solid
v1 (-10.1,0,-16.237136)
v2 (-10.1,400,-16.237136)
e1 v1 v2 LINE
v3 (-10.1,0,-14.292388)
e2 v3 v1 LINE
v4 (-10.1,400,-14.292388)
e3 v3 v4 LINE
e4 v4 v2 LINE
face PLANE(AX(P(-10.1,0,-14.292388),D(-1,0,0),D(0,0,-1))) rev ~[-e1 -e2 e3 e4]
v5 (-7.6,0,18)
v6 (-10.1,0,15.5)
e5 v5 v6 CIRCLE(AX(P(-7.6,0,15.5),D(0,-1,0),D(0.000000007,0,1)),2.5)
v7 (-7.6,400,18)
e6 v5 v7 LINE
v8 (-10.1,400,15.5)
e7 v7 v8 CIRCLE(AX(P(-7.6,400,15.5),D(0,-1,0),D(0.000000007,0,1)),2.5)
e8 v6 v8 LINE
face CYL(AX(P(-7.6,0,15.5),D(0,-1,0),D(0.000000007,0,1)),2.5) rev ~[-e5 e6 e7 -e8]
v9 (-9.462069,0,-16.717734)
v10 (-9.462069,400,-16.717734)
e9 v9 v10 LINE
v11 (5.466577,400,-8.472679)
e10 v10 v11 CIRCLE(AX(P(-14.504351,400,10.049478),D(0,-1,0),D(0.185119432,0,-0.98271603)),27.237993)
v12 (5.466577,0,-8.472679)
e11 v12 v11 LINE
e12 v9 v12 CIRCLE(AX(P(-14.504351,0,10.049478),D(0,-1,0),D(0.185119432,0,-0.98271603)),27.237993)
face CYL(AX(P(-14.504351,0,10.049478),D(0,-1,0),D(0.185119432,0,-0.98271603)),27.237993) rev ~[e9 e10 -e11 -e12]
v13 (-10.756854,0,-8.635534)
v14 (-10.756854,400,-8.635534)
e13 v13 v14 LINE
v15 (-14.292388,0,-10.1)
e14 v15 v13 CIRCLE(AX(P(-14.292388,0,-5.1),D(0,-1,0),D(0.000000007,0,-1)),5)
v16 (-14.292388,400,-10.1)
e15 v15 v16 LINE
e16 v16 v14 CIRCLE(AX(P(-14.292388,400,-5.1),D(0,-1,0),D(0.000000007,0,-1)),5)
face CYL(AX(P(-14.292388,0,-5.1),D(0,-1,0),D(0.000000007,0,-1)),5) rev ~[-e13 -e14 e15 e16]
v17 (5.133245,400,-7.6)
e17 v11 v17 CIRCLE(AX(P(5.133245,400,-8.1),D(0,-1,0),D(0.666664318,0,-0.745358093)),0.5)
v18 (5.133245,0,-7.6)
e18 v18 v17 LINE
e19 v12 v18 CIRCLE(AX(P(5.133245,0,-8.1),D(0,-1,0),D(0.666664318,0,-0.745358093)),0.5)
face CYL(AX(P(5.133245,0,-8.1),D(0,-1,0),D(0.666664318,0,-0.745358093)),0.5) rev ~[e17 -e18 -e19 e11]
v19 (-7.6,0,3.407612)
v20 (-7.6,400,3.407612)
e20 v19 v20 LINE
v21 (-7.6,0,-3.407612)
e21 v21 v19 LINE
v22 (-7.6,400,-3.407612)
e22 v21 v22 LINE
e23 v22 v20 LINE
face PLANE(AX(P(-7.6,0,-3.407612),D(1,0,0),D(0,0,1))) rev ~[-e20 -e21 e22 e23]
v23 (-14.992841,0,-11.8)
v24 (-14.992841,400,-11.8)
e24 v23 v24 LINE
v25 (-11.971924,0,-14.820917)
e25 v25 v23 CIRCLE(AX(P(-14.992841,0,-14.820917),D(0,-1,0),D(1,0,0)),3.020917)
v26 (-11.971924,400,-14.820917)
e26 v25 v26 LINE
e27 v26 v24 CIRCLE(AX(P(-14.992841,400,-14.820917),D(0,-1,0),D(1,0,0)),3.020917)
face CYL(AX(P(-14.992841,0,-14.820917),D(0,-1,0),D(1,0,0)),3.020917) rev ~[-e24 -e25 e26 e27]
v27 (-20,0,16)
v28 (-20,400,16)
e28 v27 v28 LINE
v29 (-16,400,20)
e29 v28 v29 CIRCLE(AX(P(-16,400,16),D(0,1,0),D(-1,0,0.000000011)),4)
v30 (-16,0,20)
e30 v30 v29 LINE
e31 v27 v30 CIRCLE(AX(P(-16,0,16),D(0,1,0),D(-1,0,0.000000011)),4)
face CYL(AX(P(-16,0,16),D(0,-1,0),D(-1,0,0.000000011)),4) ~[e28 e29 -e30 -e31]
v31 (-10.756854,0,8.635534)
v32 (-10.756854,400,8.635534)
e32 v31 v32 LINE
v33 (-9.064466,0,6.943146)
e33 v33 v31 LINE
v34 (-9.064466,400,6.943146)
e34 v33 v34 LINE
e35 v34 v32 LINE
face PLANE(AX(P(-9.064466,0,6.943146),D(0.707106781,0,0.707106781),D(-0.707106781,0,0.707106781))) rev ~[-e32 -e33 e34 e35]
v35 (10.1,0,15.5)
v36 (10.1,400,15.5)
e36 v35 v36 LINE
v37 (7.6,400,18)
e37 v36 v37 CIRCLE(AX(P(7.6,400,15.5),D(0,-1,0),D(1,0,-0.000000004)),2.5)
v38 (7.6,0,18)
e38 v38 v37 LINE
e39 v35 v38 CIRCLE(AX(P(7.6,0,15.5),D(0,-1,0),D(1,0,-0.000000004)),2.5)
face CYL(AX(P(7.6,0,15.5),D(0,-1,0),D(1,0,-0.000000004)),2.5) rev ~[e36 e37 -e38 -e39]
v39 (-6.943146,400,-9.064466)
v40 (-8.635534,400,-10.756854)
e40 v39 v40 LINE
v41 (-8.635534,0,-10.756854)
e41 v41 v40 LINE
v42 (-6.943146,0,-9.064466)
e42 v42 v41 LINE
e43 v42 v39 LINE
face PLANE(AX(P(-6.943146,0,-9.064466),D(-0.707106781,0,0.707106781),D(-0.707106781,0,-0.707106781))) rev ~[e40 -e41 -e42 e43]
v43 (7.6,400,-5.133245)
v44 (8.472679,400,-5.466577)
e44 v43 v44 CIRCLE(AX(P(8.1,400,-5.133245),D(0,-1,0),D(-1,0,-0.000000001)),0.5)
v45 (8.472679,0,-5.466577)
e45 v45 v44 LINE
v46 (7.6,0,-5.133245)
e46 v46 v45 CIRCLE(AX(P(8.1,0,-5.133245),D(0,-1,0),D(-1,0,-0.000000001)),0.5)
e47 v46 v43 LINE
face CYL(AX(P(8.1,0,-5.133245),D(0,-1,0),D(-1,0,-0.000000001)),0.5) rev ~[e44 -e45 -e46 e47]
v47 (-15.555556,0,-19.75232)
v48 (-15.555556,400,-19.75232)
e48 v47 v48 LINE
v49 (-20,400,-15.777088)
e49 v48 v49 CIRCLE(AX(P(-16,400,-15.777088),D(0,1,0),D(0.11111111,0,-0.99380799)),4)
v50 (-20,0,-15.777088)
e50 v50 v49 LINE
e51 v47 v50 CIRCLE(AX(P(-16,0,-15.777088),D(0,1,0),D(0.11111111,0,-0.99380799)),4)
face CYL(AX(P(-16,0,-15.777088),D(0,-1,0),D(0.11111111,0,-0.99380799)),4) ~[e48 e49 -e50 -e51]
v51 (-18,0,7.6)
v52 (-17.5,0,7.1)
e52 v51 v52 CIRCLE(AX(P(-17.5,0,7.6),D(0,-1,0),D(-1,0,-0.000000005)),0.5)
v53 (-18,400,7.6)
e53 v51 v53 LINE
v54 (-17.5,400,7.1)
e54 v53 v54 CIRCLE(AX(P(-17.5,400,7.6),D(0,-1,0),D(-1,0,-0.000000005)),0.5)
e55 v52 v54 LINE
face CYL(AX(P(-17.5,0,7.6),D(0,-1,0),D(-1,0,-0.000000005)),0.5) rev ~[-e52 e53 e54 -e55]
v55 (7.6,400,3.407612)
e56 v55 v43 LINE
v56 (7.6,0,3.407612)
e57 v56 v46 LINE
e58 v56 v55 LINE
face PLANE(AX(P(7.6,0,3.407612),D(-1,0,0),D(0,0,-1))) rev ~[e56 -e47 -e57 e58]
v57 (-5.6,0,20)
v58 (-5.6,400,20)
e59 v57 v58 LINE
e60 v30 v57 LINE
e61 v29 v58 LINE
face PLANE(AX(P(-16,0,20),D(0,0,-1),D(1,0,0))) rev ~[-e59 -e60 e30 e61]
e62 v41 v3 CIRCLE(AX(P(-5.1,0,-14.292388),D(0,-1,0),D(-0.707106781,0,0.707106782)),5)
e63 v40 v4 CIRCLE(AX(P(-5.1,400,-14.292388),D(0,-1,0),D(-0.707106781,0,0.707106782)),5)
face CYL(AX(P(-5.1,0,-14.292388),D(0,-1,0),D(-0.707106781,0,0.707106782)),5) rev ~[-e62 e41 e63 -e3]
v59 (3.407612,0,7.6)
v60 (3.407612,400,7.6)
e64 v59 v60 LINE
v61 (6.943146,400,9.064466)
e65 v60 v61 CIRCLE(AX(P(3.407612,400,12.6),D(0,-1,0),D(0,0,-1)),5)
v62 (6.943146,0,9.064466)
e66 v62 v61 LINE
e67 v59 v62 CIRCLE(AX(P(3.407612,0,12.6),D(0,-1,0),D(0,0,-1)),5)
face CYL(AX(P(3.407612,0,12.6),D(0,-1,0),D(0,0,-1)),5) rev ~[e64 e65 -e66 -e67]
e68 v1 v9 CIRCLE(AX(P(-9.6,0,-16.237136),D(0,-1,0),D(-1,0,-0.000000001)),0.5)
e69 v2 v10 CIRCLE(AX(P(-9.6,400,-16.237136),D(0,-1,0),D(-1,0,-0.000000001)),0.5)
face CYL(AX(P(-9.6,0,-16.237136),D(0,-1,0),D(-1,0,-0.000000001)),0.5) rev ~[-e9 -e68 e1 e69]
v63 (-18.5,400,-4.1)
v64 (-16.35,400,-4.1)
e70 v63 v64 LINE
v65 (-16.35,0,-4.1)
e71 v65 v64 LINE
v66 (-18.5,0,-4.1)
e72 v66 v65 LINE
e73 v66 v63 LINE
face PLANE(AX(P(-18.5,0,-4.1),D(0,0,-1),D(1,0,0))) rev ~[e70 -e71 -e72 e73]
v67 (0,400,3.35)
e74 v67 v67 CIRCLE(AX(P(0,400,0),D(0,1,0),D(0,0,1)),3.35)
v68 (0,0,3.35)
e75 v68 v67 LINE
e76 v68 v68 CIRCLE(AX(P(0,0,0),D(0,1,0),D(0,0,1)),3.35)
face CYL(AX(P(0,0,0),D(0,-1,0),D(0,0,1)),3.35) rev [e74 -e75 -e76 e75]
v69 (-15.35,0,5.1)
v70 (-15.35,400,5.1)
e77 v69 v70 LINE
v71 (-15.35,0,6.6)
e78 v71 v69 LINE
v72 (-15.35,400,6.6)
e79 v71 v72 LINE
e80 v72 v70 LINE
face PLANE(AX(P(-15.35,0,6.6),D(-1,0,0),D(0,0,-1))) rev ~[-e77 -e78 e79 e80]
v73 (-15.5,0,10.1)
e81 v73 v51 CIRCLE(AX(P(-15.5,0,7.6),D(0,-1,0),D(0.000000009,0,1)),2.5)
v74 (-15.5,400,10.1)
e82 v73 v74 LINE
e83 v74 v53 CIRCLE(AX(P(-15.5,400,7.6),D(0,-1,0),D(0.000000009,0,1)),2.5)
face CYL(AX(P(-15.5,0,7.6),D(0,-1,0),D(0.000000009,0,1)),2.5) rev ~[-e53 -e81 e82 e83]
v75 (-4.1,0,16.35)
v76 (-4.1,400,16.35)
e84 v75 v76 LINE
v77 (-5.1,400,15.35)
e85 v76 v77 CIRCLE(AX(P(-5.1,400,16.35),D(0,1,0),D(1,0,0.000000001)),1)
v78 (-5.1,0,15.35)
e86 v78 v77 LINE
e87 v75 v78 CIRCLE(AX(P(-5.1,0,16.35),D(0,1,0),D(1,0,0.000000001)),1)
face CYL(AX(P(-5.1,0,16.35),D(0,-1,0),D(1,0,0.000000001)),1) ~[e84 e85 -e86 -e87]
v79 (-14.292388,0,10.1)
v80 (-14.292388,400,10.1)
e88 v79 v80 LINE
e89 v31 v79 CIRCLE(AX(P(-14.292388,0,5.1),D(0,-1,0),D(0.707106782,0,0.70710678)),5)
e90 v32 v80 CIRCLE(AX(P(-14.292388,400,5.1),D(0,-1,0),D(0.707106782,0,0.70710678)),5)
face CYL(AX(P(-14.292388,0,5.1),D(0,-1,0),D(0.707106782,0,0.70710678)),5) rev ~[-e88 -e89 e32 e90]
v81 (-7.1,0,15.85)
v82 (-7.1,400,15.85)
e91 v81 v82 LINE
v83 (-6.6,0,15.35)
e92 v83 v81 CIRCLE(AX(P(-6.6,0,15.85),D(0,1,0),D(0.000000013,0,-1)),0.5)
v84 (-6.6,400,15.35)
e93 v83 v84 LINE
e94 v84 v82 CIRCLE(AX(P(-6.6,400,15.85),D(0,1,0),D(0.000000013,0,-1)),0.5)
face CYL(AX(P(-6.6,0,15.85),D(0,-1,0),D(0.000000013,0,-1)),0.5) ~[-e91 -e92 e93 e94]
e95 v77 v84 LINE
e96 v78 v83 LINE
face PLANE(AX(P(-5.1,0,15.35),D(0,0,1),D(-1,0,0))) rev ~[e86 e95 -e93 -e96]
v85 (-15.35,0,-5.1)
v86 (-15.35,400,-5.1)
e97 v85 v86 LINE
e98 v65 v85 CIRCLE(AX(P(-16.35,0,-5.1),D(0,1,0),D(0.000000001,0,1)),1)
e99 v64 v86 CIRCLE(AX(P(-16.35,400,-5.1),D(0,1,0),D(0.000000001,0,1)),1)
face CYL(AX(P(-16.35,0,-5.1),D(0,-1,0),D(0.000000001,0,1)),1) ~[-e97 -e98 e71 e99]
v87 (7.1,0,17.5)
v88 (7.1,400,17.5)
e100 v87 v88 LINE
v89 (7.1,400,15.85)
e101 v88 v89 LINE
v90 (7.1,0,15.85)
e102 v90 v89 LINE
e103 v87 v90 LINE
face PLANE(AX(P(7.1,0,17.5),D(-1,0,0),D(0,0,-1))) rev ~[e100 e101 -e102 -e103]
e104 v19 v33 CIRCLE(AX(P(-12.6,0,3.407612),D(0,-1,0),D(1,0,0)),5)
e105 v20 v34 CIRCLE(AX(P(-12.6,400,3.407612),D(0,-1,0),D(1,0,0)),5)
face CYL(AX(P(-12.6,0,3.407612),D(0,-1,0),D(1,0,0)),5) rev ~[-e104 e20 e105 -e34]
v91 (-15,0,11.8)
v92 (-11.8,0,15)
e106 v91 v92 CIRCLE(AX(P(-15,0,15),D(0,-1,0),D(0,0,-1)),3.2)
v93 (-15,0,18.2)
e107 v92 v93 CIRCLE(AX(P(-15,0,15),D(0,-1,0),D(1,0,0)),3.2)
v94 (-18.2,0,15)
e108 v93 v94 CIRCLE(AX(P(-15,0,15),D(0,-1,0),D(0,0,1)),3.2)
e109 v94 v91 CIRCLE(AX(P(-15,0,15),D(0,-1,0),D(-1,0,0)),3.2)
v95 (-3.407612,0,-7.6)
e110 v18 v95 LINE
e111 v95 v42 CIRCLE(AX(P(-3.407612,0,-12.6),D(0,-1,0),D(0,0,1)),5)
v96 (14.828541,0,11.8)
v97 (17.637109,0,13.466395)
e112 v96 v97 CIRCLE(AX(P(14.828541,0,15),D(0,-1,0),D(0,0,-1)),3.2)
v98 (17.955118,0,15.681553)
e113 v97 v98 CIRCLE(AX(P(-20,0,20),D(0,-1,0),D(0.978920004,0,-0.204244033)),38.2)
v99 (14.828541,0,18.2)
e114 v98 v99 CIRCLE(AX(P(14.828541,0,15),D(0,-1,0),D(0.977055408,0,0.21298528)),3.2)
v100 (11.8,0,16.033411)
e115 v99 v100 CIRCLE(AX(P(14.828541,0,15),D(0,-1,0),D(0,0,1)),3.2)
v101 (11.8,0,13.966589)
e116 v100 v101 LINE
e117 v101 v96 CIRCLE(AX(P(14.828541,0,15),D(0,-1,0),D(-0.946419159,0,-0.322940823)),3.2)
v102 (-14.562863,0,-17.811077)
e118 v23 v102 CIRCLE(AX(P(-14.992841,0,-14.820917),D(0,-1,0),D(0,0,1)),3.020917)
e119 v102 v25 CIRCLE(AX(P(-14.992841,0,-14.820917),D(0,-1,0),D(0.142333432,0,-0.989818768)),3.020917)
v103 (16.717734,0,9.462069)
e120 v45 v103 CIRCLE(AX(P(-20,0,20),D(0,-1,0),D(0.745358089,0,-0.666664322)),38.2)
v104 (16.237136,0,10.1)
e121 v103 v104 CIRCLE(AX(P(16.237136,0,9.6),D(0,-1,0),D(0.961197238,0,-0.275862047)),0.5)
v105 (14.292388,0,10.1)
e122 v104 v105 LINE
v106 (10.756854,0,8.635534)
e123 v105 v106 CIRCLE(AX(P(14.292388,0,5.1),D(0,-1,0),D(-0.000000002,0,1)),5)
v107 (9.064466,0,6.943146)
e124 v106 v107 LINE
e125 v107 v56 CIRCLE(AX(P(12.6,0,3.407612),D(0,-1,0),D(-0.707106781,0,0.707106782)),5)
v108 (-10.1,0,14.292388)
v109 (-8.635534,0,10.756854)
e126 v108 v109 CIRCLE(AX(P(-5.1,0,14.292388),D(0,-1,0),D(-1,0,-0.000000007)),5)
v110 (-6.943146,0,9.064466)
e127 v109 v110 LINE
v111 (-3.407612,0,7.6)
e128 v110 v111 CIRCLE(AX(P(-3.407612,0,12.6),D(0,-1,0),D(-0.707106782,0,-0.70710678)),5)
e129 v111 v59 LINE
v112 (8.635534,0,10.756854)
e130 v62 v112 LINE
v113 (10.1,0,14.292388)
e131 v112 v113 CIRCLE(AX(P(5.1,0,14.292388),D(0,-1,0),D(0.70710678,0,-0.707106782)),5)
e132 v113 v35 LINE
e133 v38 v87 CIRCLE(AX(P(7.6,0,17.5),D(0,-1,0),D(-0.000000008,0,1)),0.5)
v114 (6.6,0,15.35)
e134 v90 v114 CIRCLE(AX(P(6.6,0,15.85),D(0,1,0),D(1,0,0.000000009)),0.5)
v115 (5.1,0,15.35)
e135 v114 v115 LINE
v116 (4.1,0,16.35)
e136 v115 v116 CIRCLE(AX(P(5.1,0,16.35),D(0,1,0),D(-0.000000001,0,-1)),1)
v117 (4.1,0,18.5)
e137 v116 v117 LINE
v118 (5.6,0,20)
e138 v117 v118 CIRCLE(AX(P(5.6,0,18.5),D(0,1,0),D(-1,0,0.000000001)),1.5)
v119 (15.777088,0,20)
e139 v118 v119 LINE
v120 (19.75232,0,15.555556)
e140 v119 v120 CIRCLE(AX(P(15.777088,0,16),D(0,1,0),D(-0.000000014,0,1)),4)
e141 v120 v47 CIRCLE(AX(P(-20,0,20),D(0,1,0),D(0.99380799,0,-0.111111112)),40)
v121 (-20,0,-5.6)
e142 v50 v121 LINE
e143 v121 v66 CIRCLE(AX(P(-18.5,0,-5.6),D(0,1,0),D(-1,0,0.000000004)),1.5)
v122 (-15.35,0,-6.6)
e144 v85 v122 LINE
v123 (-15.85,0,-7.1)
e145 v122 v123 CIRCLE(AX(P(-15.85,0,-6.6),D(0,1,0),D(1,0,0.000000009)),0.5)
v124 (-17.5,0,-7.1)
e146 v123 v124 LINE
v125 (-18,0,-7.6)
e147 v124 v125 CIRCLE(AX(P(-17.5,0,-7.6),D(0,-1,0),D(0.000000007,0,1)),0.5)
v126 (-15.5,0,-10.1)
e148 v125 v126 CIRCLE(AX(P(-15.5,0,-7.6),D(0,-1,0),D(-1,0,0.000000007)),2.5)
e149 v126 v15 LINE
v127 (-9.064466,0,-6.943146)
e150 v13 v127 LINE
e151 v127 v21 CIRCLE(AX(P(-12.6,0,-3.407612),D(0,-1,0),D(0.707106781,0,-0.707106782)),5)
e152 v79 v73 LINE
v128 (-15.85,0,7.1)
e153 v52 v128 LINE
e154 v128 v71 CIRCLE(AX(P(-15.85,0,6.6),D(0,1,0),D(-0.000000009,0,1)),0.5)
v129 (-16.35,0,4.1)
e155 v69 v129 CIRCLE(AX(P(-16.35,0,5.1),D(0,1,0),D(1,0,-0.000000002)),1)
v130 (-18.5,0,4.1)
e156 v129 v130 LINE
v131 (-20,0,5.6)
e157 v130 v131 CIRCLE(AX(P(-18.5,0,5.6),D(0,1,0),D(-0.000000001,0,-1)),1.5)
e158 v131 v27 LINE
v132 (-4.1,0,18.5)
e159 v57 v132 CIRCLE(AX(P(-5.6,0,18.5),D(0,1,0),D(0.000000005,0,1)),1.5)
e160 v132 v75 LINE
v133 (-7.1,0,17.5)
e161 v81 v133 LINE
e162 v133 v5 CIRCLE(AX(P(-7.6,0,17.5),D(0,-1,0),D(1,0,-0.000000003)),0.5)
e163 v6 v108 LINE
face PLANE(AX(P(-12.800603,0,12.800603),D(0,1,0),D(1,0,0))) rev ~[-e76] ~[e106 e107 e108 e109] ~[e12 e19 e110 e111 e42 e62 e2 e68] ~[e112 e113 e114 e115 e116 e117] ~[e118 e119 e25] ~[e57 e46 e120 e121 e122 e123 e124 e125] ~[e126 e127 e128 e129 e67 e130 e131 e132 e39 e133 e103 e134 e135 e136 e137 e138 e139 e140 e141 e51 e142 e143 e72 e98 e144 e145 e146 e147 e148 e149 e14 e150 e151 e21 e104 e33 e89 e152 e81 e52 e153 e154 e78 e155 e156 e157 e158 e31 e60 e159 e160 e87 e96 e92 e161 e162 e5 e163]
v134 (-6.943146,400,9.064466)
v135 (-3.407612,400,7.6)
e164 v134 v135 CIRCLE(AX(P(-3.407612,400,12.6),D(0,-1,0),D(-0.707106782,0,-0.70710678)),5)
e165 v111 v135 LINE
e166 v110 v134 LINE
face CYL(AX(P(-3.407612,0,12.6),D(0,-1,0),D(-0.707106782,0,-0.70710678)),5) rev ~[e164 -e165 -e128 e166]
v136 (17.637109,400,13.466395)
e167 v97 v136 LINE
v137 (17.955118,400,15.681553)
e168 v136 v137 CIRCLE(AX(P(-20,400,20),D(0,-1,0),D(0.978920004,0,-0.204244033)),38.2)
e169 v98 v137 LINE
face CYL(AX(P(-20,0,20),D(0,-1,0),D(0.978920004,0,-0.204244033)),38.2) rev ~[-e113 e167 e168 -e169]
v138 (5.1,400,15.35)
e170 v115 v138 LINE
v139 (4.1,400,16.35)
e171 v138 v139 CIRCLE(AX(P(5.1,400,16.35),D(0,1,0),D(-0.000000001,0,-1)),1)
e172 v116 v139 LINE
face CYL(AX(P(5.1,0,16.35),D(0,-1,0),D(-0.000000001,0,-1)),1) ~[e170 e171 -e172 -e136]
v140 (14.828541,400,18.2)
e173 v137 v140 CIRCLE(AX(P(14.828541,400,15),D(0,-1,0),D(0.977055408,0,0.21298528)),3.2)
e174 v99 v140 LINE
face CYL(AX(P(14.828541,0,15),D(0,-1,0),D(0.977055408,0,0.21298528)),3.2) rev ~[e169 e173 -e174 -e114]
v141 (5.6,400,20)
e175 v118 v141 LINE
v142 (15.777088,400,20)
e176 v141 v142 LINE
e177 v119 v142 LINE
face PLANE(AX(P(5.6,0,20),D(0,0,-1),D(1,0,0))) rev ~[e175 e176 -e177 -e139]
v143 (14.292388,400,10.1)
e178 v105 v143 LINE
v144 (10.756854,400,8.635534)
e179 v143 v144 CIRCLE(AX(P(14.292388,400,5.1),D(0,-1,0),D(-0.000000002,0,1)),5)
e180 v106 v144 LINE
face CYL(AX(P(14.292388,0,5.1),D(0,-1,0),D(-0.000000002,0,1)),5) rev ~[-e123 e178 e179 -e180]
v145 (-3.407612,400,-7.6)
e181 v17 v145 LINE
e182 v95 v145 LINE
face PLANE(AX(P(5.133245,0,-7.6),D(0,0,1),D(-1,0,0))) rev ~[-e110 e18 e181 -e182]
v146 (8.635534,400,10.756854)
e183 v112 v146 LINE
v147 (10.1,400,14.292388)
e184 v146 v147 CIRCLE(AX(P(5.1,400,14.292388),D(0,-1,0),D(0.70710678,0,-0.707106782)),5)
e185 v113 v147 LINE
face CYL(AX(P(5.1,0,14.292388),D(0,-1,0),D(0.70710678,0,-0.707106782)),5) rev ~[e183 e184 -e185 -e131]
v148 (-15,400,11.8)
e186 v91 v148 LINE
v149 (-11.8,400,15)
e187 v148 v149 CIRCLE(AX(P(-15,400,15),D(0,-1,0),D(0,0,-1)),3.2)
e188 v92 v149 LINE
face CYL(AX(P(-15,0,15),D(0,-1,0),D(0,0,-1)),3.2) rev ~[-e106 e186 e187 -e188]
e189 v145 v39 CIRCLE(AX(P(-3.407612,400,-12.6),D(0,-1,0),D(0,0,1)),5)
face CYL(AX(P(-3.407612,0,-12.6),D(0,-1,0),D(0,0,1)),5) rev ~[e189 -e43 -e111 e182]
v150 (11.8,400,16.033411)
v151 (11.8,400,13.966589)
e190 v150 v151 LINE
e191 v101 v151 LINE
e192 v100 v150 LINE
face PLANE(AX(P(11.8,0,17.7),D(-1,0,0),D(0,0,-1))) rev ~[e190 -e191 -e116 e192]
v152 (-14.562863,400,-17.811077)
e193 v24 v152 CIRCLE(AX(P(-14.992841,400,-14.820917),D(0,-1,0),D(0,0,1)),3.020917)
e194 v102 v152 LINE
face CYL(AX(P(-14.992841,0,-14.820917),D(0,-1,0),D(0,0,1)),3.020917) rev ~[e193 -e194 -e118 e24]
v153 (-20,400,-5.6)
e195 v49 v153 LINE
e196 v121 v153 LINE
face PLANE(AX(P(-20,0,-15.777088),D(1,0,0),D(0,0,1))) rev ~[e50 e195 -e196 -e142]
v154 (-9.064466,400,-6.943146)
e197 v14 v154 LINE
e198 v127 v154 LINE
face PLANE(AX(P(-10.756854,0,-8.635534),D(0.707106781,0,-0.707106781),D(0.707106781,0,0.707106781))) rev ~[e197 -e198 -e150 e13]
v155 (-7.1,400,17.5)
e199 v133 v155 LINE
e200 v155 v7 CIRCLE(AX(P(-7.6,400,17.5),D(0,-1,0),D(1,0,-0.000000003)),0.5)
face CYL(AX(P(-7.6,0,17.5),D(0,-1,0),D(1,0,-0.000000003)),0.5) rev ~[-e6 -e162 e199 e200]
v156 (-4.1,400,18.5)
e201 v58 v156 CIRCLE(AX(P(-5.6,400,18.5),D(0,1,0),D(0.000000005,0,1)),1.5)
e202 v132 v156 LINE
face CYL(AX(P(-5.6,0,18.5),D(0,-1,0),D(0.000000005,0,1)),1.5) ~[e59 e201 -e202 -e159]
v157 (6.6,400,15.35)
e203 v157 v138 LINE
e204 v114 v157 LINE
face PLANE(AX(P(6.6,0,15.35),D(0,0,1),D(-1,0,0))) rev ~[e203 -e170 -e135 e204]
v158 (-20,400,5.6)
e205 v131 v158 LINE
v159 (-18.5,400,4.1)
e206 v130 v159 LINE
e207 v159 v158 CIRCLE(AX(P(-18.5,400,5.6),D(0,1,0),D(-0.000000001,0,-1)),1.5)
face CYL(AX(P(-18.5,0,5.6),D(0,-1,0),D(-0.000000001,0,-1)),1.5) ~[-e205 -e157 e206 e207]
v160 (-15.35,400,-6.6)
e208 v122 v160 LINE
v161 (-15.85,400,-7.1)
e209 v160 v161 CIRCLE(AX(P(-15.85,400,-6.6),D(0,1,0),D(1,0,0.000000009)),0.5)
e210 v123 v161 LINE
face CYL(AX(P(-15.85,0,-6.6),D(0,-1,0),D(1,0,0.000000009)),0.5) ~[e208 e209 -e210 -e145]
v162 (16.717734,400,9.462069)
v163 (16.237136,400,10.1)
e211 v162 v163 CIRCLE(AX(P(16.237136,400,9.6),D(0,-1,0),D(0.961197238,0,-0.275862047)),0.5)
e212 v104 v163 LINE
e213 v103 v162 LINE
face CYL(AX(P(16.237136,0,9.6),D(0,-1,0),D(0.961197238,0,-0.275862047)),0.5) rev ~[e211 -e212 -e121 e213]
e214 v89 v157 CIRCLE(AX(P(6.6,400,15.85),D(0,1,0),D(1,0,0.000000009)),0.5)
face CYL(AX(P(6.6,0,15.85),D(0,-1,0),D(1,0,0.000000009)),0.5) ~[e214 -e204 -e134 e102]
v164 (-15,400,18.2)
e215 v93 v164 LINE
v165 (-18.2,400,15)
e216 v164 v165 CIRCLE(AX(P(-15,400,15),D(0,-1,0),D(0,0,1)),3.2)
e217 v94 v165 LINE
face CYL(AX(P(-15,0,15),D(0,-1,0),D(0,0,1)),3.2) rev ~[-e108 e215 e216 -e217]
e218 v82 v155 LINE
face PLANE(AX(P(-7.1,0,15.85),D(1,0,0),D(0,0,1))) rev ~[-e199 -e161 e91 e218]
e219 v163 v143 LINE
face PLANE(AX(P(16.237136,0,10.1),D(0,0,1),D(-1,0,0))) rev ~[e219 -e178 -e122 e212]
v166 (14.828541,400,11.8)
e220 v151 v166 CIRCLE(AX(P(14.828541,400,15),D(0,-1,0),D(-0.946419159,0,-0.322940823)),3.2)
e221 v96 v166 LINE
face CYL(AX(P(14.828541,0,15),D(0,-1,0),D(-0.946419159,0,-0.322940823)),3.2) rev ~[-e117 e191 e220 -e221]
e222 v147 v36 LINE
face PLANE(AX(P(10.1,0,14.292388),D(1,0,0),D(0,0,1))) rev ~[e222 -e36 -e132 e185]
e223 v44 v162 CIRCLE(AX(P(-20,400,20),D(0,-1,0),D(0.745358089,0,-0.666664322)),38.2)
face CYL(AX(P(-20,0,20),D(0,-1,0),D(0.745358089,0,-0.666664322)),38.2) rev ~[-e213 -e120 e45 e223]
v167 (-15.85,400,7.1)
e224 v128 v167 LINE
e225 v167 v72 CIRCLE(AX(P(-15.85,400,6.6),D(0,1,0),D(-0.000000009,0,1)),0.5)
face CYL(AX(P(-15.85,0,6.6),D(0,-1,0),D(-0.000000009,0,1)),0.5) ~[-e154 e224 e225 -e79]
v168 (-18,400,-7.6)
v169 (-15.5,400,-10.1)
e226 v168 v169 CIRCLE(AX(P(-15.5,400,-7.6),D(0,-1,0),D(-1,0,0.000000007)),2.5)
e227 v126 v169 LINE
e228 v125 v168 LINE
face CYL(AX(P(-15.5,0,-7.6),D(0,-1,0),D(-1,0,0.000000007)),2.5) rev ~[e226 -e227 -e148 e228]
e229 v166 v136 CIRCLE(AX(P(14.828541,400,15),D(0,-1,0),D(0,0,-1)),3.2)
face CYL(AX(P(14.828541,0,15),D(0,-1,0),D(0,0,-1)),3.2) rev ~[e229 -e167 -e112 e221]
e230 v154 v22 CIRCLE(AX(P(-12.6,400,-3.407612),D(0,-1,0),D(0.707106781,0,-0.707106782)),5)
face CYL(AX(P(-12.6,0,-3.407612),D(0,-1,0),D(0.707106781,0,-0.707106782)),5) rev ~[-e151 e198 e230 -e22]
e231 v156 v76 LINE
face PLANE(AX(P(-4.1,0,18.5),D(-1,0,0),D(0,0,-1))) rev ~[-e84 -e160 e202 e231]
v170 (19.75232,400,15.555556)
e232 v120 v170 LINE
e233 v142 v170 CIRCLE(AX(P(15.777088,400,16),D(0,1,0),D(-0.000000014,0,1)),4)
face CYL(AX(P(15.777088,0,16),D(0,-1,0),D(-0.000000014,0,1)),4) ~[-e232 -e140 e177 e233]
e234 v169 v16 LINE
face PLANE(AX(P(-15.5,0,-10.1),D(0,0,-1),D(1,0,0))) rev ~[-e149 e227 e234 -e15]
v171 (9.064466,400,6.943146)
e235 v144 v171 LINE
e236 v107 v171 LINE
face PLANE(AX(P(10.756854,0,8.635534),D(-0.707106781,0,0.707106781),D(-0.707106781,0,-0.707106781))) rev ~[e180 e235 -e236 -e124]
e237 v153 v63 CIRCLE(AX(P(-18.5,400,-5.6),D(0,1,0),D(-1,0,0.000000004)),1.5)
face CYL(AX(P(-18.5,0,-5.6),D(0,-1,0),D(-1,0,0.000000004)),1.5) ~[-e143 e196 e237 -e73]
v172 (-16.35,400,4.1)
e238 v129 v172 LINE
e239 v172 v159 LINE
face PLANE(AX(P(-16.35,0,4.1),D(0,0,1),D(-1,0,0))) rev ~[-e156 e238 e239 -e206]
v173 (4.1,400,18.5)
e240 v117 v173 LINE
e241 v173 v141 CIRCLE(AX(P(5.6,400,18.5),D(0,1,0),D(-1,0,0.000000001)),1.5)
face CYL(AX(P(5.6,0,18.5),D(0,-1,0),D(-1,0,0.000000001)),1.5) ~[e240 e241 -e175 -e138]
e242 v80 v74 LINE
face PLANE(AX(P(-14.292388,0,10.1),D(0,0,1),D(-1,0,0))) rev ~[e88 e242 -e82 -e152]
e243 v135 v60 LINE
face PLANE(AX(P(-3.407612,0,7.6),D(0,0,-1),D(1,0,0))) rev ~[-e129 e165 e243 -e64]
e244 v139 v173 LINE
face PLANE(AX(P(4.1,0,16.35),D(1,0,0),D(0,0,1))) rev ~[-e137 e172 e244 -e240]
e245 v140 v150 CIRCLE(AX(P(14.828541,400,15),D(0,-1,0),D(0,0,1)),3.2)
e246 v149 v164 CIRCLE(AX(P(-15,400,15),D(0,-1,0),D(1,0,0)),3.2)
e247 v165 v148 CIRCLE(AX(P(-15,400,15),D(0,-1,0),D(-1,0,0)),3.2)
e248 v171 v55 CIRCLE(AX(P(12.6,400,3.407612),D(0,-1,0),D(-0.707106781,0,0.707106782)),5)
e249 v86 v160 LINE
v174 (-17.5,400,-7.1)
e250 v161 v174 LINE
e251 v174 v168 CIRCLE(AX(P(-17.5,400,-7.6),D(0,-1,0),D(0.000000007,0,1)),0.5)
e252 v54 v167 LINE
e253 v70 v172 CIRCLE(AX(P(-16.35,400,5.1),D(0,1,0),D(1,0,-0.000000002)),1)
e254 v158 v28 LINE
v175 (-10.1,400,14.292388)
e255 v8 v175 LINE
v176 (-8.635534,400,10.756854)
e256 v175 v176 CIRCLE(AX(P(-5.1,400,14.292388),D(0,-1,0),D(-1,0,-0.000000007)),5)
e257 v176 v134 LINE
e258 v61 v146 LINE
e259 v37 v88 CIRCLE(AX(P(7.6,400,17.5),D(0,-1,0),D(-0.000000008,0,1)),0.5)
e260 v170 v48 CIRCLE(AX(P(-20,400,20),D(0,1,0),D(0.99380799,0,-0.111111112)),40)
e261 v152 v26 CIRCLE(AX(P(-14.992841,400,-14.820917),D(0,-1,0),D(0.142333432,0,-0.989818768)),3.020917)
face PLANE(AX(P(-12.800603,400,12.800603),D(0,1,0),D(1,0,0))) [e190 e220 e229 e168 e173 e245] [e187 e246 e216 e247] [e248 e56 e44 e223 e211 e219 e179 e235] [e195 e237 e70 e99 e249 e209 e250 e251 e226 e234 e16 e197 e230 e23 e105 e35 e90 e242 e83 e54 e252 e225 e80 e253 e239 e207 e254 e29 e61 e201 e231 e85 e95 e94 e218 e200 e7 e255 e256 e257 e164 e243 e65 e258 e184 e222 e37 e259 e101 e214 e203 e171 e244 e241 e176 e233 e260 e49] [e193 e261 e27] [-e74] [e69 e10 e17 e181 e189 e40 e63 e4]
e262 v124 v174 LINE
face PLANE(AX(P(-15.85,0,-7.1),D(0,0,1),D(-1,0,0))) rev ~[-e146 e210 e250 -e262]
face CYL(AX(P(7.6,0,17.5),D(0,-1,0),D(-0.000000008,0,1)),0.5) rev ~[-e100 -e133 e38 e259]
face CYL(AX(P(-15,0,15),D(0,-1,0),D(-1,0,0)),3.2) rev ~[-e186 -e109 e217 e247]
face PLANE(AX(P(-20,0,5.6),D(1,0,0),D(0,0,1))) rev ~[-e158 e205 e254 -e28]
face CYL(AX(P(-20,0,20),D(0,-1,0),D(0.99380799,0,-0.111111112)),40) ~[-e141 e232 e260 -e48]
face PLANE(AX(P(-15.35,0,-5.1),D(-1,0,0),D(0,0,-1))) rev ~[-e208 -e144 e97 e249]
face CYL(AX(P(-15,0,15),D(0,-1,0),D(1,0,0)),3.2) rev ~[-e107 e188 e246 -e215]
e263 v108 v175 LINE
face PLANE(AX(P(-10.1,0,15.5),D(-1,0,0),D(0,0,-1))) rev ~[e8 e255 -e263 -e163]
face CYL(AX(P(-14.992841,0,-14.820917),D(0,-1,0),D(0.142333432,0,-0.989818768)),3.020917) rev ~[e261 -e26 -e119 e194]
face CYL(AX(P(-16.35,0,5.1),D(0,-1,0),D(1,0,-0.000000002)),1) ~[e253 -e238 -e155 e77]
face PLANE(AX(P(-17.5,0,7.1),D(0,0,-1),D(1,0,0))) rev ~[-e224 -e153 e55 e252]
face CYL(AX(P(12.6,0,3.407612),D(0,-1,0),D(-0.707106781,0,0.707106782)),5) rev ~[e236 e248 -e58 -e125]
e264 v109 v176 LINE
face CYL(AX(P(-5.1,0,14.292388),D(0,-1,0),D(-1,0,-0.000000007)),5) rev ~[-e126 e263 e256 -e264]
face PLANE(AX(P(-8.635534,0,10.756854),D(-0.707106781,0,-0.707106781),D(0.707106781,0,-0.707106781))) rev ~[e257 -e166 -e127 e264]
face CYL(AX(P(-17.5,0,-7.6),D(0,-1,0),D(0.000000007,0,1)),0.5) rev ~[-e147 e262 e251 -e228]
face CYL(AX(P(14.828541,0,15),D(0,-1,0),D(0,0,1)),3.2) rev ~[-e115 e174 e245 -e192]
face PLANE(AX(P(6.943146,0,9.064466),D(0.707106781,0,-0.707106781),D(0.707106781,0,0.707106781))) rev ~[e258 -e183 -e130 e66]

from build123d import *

# Parameters (mm, degrees)
CROQUIS1_R              = 3.35
SALIENTE_EXTRUIR1_DEPTH = 400
SALIENTE_EXTRUIR2_START = -400
SALIENTE_EXTRUIR2_DEPTH = 400


with BuildPart() as part:
    # Croquis1 → Saliente-Extruir1 (new body)
    with BuildSketch(Plane(origin=(0, 0, 0), x_dir=(1, 0, 0), z_dir=(0, 1, 0))):
        with BuildLine():
            Line((4.099999986, -16.349999949), (4.099999986, -18.499999949))
            ThreePointArc((4.099999986, -18.499999949), (4.539339815, -19.560660121), (5.599999987, -19.999999949))
            Line((5.599999987, -19.999999949), (15.777087623, -19.999999949))
            ThreePointArc((15.777087623, -19.999999949), (18.758511608, -18.66666665), (19.752319619, -15.555555546))
            ThreePointArc((19.752319619, -15.555555546), (8.284271243, 8.284271252), (-15.555555578, 19.752319582))
            ThreePointArc((-15.555555578, 19.752319582), (-18.666666685, 18.758511591), (-20.000000016, 15.777087623))
            Line((-20.000000016, 15.777087623), (-20.000000016, 5.599999985))
            ThreePointArc((-20.000000016, 5.599999985), (-19.560660185, 4.539339815), (-18.500000013, 4.099999988))
            Line((-18.500000013, 4.099999988), (-16.350000012, 4.099999988))
            ThreePointArc((-16.350000012, 4.099999988), (-15.642893231, 4.392893207), (-15.350000012, 5.099999988))
            Line((-15.350000012, 5.099999988), (-15.350000012, 6.599999984))
            ThreePointArc((-15.350000012, 6.599999984), (-15.49644662, 6.953553378), (-15.850000012, 7.099999989))
            Line((-15.850000012, 7.099999989), (-17.500000009, 7.099999989))
            ThreePointArc((-17.500000009, 7.099999989), (-17.853553401, 7.246446596), (-18.000000013, 7.599999985))
            ThreePointArc((-18.000000013, 7.599999985), (-17.267766972, 9.36776695), (-15.500000013, 10.100000003))
            Line((-15.500000013, 10.100000003), (-14.292388135, 10.100000003))
            ThreePointArc((-14.292388135, 10.100000003), (-12.378970991, 9.719397659), (-10.756854262, 8.635533909))
            Line((-10.756854262, 8.635533909), (-9.064466108, 6.943145756))
            ThreePointArc((-9.064466108, 6.943145756), (-7.980602349, 5.32102901), (-7.60000001, 3.407611846))
            Line((-7.60000001, 3.407611846), (-7.60000001, -3.407611843))
            ThreePointArc((-7.60000001, -3.407611843), (-7.980602347, -5.321029004), (-9.064466104, -6.943145748))
            Line((-9.064466104, -6.943145748), (-10.756854257, -8.635533901))
            ThreePointArc((-10.756854257, -8.635533901), (-12.378971003, -9.719397661), (-14.292388167, -10.099999999))
            Line((-14.292388167, -10.099999999), (-15.499999985, -10.099999999))
            ThreePointArc((-15.499999985, -10.099999999), (-17.267766956, -9.367766956), (-18.000000007, -7.599999987))
            ThreePointArc((-18.000000007, -7.599999987), (-17.853553397, -7.246446598), (-17.500000007, -7.099999989))
            Line((-17.500000007, -7.099999989), (-15.850000011, -7.099999989))
            ThreePointArc((-15.850000011, -7.099999989), (-15.496446618, -6.953553381), (-15.350000008, -6.599999989))
            Line((-15.350000008, -6.599999989), (-15.350000008, -5.099999989))
            ThreePointArc((-15.350000008, -5.099999989), (-15.642893227, -4.392893209), (-16.350000008, -4.09999999))
            Line((-16.350000008, -4.09999999), (-18.500000008, -4.09999999))
            ThreePointArc((-18.500000008, -4.09999999), (-19.56066018, -4.539339819), (-20.000000008, -5.599999991))
            Line((-20.000000008, -5.599999991), (-20.000000008, -15.999999939))
            ThreePointArc((-20.000000008, -15.999999939), (-18.828427101, -18.828427077), (-15.999999951, -19.999999954))
            Line((-15.999999951, -19.999999954), (-5.599999986, -19.999999954))
            ThreePointArc((-5.599999986, -19.999999954), (-4.539339818, -19.560660123), (-4.099999992, -18.499999954))
            Line((-4.099999992, -18.499999954), (-4.099999992, -16.349999953))
            ThreePointArc((-4.099999992, -16.349999953), (-4.392893211, -15.642893171), (-5.099999992, -15.349999953))
            Line((-5.099999992, -15.349999953), (-6.599999988, -15.349999953))
            ThreePointArc((-6.599999988, -15.349999953), (-6.953553382, -15.49644656), (-7.099999993, -15.849999953))
            Line((-7.099999993, -15.849999953), (-7.099999993, -17.499999952))
            ThreePointArc((-7.099999993, -17.499999952), (-7.2464466, -17.853553342), (-7.599999989, -17.999999954))
            ThreePointArc((-7.599999989, -17.999999954), (-9.367766954, -17.267766913), (-10.100000007, -15.499999954))
            Line((-10.100000007, -15.499999954), (-10.100000007, -14.292388076))
            ThreePointArc((-10.100000007, -14.292388076), (-9.719397663, -12.378970931), (-8.635533913, -10.756854202))
            Line((-8.635533913, -10.756854202), (-6.94314576, -9.064466049))
            ThreePointArc((-6.94314576, -9.064466049), (-5.321029014, -7.980602289), (-3.40761185, -7.599999951))
            Line((-3.40761185, -7.599999951), (3.407611837, -7.599999951))
            ThreePointArc((3.407611837, -7.599999951), (5.321028999, -7.980602288), (6.943145744, -9.064466044))
            Line((6.943145744, -9.064466044), (8.635533897, -10.756854198))
            ThreePointArc((8.635533897, -10.756854198), (9.719397657, -12.378970943), (10.099999995, -14.292388108))
            Line((10.099999995, -14.292388108), (10.099999995, -15.499999937))
            ThreePointArc((10.099999995, -15.499999937), (9.367766948, -17.267766901), (7.599999983, -17.999999948))
            ThreePointArc((7.599999983, -17.999999948), (7.246446594, -17.853553337), (7.099999985, -17.499999948))
            Line((7.099999985, -17.499999948), (7.099999985, -15.849999952))
            ThreePointArc((7.099999985, -15.849999952), (6.953553377, -15.496446559), (6.599999985, -15.349999949))
            Line((6.599999985, -15.349999949), (5.099999986, -15.349999949))
            ThreePointArc((5.099999986, -15.349999949), (4.392893205, -15.642893168), (4.099999986, -16.349999949))
        make_face()
        with Locations(Location((0, 0, 0), (0, 0, 270))):
            Circle(CROQUIS1_R, mode=Mode.SUBTRACT)
        with BuildLine():
            Line((-18.200000016, 12.299999981), (-18.200000016, 15.777087623))
            ThreePointArc((-18.200000016, 15.777087623), (-17.466666684, 17.416870805), (-15.755555575, 17.963465201))
            ThreePointArc((-15.755555575, 17.963465201), (-13.970008189, 17.721071), (-12.197878052, 17.394744174))
            ThreePointArc((-12.197878052, 17.394744174), (-11.91201741, 17.22067196), (-11.800000067, 16.905284013))
            Line((-11.800000067, 16.905284013), (-11.800000067, 12.299999704))
            ThreePointArc((-11.800000067, 12.299999704), (-11.946446503, 11.946446622), (-12.299999521, 11.800000031))
            Line((-12.299999521, 11.800000031), (-17.700000056, 11.800000031))
            ThreePointArc((-17.700000056, 11.800000031), (-18.053553418, 11.946446622), (-18.200000016, 12.299999981))
        make_face(mode=Mode.SUBTRACT)
        with BuildLine():
            Line((11.800000005, -17.699999962), (11.800000005, -12.299999803))
            ThreePointArc((11.800000005, -12.299999803), (11.946446442, -11.946446721), (12.299999459, -11.80000013))
            Line((12.299999459, -11.80000013), (16.905284227, -11.80000013))
            ThreePointArc((16.905284227, -11.80000013), (17.220672032, -11.912017476), (17.394744196, -12.197877993))
            ThreePointArc((17.394744196, -12.197877993), (17.721071033, -13.970008163), (17.963465241, -15.755555583))
            ThreePointArc((17.963465241, -15.755555583), (17.416870817, -17.466666655), (15.777087646, -18.199999948))
            Line((15.777087646, -18.199999948), (12.300000016, -18.199999948))
            ThreePointArc((12.300000016, -18.199999948), (11.946446626, -18.053553344), (11.800000005, -17.699999962))
        make_face(mode=Mode.SUBTRACT)
        with BuildLine():
            Line((-18.200000037, -15.999999938), (-18.200000037, -12.29999998))
            ThreePointArc((-18.200000037, -12.29999998), (-18.053553433, -11.94644659), (-17.70000005, -11.799999969))
            Line((-17.70000005, -11.799999969), (-12.299999814, -11.799999969))
            ThreePointArc((-12.299999814, -11.799999969), (-11.946446646, -11.946446393), (-11.800000043, -12.299999487))
            Line((-11.800000043, -12.299999487), (-11.800000043, -17.700000023))
            ThreePointArc((-11.800000043, -17.700000023), (-11.946446635, -18.053553384), (-12.299999994, -18.199999983))
            Line((-12.299999994, -18.199999983), (-15.999999951, -18.199999983))
            ThreePointArc((-15.999999951, -18.199999983), (-17.555634915, -17.555634891), (-18.200000037, -15.999999938))
        make_face(mode=Mode.SUBTRACT)
        with BuildLine():
            Line((-10.100000018, 14.292388152), (-10.100000018, 16.237135643))
            ThreePointArc((-10.100000018, 16.237135643), (-9.900860854, 16.636488564), (-9.462068989, 16.717734255))
            ThreePointArc((-9.462068989, 16.717734255), (-1.335812596, 13.79371517), (5.466577064, 8.472679041))
            ThreePointArc((5.466577064, 8.472679041), (5.600331365, 7.921589685), (5.133244904, 7.599999995))
            Line((5.133244904, 7.599999995), (-3.407611859, 7.599999995))
            ThreePointArc((-3.407611859, 7.599999995), (-5.321029022, 7.980602332), (-6.943145766, 9.064466088))
            Line((-6.943145766, 9.064466088), (-8.63553392, 10.756854242))
            ThreePointArc((-8.63553392, 10.756854242), (-9.719397679, 12.378970987), (-10.100000018, 14.292388152))
        make_face(mode=Mode.SUBTRACT)
        with BuildLine():
            Line((16.237135661, -10.099999987), (14.292388142, -10.099999987))
            ThreePointArc((14.292388142, -10.099999987), (12.378970987, -9.719397647), (10.75685425, -8.635533892))
            Line((10.75685425, -8.635533892), (9.064466096, -6.943145739))
            ThreePointArc((9.064466096, -6.943145739), (7.980602337, -5.321028994), (7.599999998, -3.407611829))
            Line((7.599999998, -3.407611829), (7.599999998, 5.133244926))
            ThreePointArc((7.599999998, 5.133244926), (7.921589687, 5.600331384), (8.472679039, 5.466577086))
            ThreePointArc((8.472679039, 5.466577086), (13.438953564, -1.531746557), (16.71773428, -9.462068964))
            ThreePointArc((16.71773428, -9.462068964), (16.636488582, -9.900860826), (16.237135661, -10.099999987))
        make_face(mode=Mode.SUBTRACT)
    extrude(amount=SALIENTE_EXTRUIR1_DEPTH)

    # Croquis2 → Saliente-Extruir2 (add)
    with BuildSketch(Plane(origin=(0, 400, 0), x_dir=(1, 0, 0), z_dir=(0, 1, 0)).offset(SALIENTE_EXTRUIR2_START)):
        with BuildLine():
            ThreePointArc((-15.00000005, -11.799999969), (-12.737258345, -12.737258271), (-11.800000043, -14.999999976))
            Line((-11.800000043, -14.999999976), (-11.800000043, -12.299999487))
            ThreePointArc((-11.800000043, -12.299999487), (-11.946446646, -11.946446393), (-12.299999814, -11.799999969))
            Line((-12.299999814, -11.799999969), (-15.00000005, -11.799999969))
        make_face()
        with BuildLine():
            ThreePointArc((-11.800000043, -14.999999976), (-12.737258345, -17.26274168), (-15.00000005, -18.199999983))
            Line((-15.00000005, -18.199999983), (-12.299999994, -18.199999983))
            ThreePointArc((-12.299999994, -18.199999983), (-11.946446635, -18.053553384), (-11.800000043, -17.700000023))
            Line((-11.800000043, -17.700000023), (-11.800000043, -14.999999976))
        make_face()
        with BuildLine():
            ThreePointArc((-18.200000037, -15.999999938), (-17.555634915, -17.555634891), (-15.999999951, -18.199999983))
            Line((-15.999999951, -18.199999983), (-15.00000005, -18.199999983))
            ThreePointArc((-15.00000005, -18.199999983), (-17.262741755, -17.26274168), (-18.200000057, -14.999999976))
            Line((-18.200000037, -14.999999976), (-18.200000037, -15.999999938))
        make_face()
        with BuildLine():
            Line((-18.200000037, -12.29999998), (-18.200000037, -14.999999976))
            ThreePointArc((-18.200000057, -14.999999976), (-17.262741755, -12.737258271), (-15.00000005, -11.799999969))
            Line((-15.00000005, -11.799999969), (-17.70000005, -11.799999969))
            ThreePointArc((-17.70000005, -11.799999969), (-18.053553433, -11.94644659), (-18.200000037, -12.29999998))
        make_face()
        with BuildLine():
            ThreePointArc((-15.755555575, 17.963465201), (-17.466666684, 17.416870805), (-18.200000016, 15.777087623))
            Line((-18.200000016, 15.777087623), (-18.200000016, 12.299999981))
            ThreePointArc((-18.200000016, 12.299999981), (-18.053553418, 11.946446622), (-17.700000056, 11.800000031))
            Line((-17.700000056, 11.800000031), (-14.992840663, 11.800000031))
            ThreePointArc((-14.992840663, 11.800000031), (-18.006058488, 15.03645487), (-14.562863205, 17.811076975))
            ThreePointArc((-14.562863205, 17.811076975), (-15.158609779, 17.891964046), (-15.755555575, 17.963465201))
        make_face()
        with BuildLine():
            ThreePointArc((-12.197878052, 17.394744174), (-13.37709835, 17.621498805), (-14.562863205, 17.811076975))
            ThreePointArc((-14.562863205, 17.811076975), (-12.709765496, 16.799175178), (-11.971923864, 14.82091683))
            ThreePointArc((-11.971923864, 14.82091683), (-12.856729909, 12.684806076), (-14.992840663, 11.800000031))
            Line((-14.992840663, 11.800000031), (-12.299999521, 11.800000031))
            ThreePointArc((-12.299999521, 11.800000031), (-11.946446503, 11.946446622), (-11.800000067, 12.299999704))
            Line((-11.800000067, 12.299999704), (-11.800000067, 16.905284013))
            ThreePointArc((-11.800000067, 16.905284013), (-11.91201741, 17.22067196), (-12.197878052, 17.394744174))
        make_face()
        with BuildLine():
            Line((16.905284227, -11.80000013), (14.828541229, -11.80000013))
            ThreePointArc((14.828541229, -11.80000013), (16.461401303, -12.247952184), (17.637109474, -13.466395191))
            ThreePointArc((17.637109474, -13.466395191), (17.521287961, -12.831112285), (17.394744196, -12.197877993))
            ThreePointArc((17.394744196, -12.197877993), (17.220672032, -11.912017476), (16.905284227, -11.80000013))
        make_face()
        with BuildLine():
            Line((11.800000005, -12.299999803), (11.800000005, -13.966589436))
            ThreePointArc((11.800000005, -13.966589436), (12.966675823, -12.397413513), (14.828541229, -11.80000013))
            Line((14.828541229, -11.80000013), (12.299999459, -11.80000013))
            ThreePointArc((12.299999459, -11.80000013), (11.946446442, -11.946446721), (11.800000005, -12.299999803))
        make_face()
        with BuildLine():
            ThreePointArc((11.800000005, -17.699999962), (11.946446626, -18.053553344), (12.300000016, -18.199999948))
            Line((12.300000016, -18.199999948), (14.828541229, -18.199999948))
            ThreePointArc((14.828541229, -18.199999948), (12.966675823, -17.602586565), (11.800000005, -16.033410642))
            Line((11.800000005, -16.033410642), (11.800000005, -17.699999962))
        make_face()
        with BuildLine():
            ThreePointArc((17.955118446, -15.681552916), (16.835906452, -17.492084364), (14.828541229, -18.199999948))
            Line((14.828541229, -18.199999948), (15.777087646, -18.199999948))
            ThreePointArc((15.777087646, -18.199999948), (17.416870817, -17.466666655), (17.963465241, -15.755555583))
            ThreePointArc((17.963465241, -15.755555583), (17.959309877, -15.718552215), (17.955118446, -15.681552916))
        make_face()
    extrude(amount=SALIENTE_EXTRUIR2_DEPTH)


solid = part.part
